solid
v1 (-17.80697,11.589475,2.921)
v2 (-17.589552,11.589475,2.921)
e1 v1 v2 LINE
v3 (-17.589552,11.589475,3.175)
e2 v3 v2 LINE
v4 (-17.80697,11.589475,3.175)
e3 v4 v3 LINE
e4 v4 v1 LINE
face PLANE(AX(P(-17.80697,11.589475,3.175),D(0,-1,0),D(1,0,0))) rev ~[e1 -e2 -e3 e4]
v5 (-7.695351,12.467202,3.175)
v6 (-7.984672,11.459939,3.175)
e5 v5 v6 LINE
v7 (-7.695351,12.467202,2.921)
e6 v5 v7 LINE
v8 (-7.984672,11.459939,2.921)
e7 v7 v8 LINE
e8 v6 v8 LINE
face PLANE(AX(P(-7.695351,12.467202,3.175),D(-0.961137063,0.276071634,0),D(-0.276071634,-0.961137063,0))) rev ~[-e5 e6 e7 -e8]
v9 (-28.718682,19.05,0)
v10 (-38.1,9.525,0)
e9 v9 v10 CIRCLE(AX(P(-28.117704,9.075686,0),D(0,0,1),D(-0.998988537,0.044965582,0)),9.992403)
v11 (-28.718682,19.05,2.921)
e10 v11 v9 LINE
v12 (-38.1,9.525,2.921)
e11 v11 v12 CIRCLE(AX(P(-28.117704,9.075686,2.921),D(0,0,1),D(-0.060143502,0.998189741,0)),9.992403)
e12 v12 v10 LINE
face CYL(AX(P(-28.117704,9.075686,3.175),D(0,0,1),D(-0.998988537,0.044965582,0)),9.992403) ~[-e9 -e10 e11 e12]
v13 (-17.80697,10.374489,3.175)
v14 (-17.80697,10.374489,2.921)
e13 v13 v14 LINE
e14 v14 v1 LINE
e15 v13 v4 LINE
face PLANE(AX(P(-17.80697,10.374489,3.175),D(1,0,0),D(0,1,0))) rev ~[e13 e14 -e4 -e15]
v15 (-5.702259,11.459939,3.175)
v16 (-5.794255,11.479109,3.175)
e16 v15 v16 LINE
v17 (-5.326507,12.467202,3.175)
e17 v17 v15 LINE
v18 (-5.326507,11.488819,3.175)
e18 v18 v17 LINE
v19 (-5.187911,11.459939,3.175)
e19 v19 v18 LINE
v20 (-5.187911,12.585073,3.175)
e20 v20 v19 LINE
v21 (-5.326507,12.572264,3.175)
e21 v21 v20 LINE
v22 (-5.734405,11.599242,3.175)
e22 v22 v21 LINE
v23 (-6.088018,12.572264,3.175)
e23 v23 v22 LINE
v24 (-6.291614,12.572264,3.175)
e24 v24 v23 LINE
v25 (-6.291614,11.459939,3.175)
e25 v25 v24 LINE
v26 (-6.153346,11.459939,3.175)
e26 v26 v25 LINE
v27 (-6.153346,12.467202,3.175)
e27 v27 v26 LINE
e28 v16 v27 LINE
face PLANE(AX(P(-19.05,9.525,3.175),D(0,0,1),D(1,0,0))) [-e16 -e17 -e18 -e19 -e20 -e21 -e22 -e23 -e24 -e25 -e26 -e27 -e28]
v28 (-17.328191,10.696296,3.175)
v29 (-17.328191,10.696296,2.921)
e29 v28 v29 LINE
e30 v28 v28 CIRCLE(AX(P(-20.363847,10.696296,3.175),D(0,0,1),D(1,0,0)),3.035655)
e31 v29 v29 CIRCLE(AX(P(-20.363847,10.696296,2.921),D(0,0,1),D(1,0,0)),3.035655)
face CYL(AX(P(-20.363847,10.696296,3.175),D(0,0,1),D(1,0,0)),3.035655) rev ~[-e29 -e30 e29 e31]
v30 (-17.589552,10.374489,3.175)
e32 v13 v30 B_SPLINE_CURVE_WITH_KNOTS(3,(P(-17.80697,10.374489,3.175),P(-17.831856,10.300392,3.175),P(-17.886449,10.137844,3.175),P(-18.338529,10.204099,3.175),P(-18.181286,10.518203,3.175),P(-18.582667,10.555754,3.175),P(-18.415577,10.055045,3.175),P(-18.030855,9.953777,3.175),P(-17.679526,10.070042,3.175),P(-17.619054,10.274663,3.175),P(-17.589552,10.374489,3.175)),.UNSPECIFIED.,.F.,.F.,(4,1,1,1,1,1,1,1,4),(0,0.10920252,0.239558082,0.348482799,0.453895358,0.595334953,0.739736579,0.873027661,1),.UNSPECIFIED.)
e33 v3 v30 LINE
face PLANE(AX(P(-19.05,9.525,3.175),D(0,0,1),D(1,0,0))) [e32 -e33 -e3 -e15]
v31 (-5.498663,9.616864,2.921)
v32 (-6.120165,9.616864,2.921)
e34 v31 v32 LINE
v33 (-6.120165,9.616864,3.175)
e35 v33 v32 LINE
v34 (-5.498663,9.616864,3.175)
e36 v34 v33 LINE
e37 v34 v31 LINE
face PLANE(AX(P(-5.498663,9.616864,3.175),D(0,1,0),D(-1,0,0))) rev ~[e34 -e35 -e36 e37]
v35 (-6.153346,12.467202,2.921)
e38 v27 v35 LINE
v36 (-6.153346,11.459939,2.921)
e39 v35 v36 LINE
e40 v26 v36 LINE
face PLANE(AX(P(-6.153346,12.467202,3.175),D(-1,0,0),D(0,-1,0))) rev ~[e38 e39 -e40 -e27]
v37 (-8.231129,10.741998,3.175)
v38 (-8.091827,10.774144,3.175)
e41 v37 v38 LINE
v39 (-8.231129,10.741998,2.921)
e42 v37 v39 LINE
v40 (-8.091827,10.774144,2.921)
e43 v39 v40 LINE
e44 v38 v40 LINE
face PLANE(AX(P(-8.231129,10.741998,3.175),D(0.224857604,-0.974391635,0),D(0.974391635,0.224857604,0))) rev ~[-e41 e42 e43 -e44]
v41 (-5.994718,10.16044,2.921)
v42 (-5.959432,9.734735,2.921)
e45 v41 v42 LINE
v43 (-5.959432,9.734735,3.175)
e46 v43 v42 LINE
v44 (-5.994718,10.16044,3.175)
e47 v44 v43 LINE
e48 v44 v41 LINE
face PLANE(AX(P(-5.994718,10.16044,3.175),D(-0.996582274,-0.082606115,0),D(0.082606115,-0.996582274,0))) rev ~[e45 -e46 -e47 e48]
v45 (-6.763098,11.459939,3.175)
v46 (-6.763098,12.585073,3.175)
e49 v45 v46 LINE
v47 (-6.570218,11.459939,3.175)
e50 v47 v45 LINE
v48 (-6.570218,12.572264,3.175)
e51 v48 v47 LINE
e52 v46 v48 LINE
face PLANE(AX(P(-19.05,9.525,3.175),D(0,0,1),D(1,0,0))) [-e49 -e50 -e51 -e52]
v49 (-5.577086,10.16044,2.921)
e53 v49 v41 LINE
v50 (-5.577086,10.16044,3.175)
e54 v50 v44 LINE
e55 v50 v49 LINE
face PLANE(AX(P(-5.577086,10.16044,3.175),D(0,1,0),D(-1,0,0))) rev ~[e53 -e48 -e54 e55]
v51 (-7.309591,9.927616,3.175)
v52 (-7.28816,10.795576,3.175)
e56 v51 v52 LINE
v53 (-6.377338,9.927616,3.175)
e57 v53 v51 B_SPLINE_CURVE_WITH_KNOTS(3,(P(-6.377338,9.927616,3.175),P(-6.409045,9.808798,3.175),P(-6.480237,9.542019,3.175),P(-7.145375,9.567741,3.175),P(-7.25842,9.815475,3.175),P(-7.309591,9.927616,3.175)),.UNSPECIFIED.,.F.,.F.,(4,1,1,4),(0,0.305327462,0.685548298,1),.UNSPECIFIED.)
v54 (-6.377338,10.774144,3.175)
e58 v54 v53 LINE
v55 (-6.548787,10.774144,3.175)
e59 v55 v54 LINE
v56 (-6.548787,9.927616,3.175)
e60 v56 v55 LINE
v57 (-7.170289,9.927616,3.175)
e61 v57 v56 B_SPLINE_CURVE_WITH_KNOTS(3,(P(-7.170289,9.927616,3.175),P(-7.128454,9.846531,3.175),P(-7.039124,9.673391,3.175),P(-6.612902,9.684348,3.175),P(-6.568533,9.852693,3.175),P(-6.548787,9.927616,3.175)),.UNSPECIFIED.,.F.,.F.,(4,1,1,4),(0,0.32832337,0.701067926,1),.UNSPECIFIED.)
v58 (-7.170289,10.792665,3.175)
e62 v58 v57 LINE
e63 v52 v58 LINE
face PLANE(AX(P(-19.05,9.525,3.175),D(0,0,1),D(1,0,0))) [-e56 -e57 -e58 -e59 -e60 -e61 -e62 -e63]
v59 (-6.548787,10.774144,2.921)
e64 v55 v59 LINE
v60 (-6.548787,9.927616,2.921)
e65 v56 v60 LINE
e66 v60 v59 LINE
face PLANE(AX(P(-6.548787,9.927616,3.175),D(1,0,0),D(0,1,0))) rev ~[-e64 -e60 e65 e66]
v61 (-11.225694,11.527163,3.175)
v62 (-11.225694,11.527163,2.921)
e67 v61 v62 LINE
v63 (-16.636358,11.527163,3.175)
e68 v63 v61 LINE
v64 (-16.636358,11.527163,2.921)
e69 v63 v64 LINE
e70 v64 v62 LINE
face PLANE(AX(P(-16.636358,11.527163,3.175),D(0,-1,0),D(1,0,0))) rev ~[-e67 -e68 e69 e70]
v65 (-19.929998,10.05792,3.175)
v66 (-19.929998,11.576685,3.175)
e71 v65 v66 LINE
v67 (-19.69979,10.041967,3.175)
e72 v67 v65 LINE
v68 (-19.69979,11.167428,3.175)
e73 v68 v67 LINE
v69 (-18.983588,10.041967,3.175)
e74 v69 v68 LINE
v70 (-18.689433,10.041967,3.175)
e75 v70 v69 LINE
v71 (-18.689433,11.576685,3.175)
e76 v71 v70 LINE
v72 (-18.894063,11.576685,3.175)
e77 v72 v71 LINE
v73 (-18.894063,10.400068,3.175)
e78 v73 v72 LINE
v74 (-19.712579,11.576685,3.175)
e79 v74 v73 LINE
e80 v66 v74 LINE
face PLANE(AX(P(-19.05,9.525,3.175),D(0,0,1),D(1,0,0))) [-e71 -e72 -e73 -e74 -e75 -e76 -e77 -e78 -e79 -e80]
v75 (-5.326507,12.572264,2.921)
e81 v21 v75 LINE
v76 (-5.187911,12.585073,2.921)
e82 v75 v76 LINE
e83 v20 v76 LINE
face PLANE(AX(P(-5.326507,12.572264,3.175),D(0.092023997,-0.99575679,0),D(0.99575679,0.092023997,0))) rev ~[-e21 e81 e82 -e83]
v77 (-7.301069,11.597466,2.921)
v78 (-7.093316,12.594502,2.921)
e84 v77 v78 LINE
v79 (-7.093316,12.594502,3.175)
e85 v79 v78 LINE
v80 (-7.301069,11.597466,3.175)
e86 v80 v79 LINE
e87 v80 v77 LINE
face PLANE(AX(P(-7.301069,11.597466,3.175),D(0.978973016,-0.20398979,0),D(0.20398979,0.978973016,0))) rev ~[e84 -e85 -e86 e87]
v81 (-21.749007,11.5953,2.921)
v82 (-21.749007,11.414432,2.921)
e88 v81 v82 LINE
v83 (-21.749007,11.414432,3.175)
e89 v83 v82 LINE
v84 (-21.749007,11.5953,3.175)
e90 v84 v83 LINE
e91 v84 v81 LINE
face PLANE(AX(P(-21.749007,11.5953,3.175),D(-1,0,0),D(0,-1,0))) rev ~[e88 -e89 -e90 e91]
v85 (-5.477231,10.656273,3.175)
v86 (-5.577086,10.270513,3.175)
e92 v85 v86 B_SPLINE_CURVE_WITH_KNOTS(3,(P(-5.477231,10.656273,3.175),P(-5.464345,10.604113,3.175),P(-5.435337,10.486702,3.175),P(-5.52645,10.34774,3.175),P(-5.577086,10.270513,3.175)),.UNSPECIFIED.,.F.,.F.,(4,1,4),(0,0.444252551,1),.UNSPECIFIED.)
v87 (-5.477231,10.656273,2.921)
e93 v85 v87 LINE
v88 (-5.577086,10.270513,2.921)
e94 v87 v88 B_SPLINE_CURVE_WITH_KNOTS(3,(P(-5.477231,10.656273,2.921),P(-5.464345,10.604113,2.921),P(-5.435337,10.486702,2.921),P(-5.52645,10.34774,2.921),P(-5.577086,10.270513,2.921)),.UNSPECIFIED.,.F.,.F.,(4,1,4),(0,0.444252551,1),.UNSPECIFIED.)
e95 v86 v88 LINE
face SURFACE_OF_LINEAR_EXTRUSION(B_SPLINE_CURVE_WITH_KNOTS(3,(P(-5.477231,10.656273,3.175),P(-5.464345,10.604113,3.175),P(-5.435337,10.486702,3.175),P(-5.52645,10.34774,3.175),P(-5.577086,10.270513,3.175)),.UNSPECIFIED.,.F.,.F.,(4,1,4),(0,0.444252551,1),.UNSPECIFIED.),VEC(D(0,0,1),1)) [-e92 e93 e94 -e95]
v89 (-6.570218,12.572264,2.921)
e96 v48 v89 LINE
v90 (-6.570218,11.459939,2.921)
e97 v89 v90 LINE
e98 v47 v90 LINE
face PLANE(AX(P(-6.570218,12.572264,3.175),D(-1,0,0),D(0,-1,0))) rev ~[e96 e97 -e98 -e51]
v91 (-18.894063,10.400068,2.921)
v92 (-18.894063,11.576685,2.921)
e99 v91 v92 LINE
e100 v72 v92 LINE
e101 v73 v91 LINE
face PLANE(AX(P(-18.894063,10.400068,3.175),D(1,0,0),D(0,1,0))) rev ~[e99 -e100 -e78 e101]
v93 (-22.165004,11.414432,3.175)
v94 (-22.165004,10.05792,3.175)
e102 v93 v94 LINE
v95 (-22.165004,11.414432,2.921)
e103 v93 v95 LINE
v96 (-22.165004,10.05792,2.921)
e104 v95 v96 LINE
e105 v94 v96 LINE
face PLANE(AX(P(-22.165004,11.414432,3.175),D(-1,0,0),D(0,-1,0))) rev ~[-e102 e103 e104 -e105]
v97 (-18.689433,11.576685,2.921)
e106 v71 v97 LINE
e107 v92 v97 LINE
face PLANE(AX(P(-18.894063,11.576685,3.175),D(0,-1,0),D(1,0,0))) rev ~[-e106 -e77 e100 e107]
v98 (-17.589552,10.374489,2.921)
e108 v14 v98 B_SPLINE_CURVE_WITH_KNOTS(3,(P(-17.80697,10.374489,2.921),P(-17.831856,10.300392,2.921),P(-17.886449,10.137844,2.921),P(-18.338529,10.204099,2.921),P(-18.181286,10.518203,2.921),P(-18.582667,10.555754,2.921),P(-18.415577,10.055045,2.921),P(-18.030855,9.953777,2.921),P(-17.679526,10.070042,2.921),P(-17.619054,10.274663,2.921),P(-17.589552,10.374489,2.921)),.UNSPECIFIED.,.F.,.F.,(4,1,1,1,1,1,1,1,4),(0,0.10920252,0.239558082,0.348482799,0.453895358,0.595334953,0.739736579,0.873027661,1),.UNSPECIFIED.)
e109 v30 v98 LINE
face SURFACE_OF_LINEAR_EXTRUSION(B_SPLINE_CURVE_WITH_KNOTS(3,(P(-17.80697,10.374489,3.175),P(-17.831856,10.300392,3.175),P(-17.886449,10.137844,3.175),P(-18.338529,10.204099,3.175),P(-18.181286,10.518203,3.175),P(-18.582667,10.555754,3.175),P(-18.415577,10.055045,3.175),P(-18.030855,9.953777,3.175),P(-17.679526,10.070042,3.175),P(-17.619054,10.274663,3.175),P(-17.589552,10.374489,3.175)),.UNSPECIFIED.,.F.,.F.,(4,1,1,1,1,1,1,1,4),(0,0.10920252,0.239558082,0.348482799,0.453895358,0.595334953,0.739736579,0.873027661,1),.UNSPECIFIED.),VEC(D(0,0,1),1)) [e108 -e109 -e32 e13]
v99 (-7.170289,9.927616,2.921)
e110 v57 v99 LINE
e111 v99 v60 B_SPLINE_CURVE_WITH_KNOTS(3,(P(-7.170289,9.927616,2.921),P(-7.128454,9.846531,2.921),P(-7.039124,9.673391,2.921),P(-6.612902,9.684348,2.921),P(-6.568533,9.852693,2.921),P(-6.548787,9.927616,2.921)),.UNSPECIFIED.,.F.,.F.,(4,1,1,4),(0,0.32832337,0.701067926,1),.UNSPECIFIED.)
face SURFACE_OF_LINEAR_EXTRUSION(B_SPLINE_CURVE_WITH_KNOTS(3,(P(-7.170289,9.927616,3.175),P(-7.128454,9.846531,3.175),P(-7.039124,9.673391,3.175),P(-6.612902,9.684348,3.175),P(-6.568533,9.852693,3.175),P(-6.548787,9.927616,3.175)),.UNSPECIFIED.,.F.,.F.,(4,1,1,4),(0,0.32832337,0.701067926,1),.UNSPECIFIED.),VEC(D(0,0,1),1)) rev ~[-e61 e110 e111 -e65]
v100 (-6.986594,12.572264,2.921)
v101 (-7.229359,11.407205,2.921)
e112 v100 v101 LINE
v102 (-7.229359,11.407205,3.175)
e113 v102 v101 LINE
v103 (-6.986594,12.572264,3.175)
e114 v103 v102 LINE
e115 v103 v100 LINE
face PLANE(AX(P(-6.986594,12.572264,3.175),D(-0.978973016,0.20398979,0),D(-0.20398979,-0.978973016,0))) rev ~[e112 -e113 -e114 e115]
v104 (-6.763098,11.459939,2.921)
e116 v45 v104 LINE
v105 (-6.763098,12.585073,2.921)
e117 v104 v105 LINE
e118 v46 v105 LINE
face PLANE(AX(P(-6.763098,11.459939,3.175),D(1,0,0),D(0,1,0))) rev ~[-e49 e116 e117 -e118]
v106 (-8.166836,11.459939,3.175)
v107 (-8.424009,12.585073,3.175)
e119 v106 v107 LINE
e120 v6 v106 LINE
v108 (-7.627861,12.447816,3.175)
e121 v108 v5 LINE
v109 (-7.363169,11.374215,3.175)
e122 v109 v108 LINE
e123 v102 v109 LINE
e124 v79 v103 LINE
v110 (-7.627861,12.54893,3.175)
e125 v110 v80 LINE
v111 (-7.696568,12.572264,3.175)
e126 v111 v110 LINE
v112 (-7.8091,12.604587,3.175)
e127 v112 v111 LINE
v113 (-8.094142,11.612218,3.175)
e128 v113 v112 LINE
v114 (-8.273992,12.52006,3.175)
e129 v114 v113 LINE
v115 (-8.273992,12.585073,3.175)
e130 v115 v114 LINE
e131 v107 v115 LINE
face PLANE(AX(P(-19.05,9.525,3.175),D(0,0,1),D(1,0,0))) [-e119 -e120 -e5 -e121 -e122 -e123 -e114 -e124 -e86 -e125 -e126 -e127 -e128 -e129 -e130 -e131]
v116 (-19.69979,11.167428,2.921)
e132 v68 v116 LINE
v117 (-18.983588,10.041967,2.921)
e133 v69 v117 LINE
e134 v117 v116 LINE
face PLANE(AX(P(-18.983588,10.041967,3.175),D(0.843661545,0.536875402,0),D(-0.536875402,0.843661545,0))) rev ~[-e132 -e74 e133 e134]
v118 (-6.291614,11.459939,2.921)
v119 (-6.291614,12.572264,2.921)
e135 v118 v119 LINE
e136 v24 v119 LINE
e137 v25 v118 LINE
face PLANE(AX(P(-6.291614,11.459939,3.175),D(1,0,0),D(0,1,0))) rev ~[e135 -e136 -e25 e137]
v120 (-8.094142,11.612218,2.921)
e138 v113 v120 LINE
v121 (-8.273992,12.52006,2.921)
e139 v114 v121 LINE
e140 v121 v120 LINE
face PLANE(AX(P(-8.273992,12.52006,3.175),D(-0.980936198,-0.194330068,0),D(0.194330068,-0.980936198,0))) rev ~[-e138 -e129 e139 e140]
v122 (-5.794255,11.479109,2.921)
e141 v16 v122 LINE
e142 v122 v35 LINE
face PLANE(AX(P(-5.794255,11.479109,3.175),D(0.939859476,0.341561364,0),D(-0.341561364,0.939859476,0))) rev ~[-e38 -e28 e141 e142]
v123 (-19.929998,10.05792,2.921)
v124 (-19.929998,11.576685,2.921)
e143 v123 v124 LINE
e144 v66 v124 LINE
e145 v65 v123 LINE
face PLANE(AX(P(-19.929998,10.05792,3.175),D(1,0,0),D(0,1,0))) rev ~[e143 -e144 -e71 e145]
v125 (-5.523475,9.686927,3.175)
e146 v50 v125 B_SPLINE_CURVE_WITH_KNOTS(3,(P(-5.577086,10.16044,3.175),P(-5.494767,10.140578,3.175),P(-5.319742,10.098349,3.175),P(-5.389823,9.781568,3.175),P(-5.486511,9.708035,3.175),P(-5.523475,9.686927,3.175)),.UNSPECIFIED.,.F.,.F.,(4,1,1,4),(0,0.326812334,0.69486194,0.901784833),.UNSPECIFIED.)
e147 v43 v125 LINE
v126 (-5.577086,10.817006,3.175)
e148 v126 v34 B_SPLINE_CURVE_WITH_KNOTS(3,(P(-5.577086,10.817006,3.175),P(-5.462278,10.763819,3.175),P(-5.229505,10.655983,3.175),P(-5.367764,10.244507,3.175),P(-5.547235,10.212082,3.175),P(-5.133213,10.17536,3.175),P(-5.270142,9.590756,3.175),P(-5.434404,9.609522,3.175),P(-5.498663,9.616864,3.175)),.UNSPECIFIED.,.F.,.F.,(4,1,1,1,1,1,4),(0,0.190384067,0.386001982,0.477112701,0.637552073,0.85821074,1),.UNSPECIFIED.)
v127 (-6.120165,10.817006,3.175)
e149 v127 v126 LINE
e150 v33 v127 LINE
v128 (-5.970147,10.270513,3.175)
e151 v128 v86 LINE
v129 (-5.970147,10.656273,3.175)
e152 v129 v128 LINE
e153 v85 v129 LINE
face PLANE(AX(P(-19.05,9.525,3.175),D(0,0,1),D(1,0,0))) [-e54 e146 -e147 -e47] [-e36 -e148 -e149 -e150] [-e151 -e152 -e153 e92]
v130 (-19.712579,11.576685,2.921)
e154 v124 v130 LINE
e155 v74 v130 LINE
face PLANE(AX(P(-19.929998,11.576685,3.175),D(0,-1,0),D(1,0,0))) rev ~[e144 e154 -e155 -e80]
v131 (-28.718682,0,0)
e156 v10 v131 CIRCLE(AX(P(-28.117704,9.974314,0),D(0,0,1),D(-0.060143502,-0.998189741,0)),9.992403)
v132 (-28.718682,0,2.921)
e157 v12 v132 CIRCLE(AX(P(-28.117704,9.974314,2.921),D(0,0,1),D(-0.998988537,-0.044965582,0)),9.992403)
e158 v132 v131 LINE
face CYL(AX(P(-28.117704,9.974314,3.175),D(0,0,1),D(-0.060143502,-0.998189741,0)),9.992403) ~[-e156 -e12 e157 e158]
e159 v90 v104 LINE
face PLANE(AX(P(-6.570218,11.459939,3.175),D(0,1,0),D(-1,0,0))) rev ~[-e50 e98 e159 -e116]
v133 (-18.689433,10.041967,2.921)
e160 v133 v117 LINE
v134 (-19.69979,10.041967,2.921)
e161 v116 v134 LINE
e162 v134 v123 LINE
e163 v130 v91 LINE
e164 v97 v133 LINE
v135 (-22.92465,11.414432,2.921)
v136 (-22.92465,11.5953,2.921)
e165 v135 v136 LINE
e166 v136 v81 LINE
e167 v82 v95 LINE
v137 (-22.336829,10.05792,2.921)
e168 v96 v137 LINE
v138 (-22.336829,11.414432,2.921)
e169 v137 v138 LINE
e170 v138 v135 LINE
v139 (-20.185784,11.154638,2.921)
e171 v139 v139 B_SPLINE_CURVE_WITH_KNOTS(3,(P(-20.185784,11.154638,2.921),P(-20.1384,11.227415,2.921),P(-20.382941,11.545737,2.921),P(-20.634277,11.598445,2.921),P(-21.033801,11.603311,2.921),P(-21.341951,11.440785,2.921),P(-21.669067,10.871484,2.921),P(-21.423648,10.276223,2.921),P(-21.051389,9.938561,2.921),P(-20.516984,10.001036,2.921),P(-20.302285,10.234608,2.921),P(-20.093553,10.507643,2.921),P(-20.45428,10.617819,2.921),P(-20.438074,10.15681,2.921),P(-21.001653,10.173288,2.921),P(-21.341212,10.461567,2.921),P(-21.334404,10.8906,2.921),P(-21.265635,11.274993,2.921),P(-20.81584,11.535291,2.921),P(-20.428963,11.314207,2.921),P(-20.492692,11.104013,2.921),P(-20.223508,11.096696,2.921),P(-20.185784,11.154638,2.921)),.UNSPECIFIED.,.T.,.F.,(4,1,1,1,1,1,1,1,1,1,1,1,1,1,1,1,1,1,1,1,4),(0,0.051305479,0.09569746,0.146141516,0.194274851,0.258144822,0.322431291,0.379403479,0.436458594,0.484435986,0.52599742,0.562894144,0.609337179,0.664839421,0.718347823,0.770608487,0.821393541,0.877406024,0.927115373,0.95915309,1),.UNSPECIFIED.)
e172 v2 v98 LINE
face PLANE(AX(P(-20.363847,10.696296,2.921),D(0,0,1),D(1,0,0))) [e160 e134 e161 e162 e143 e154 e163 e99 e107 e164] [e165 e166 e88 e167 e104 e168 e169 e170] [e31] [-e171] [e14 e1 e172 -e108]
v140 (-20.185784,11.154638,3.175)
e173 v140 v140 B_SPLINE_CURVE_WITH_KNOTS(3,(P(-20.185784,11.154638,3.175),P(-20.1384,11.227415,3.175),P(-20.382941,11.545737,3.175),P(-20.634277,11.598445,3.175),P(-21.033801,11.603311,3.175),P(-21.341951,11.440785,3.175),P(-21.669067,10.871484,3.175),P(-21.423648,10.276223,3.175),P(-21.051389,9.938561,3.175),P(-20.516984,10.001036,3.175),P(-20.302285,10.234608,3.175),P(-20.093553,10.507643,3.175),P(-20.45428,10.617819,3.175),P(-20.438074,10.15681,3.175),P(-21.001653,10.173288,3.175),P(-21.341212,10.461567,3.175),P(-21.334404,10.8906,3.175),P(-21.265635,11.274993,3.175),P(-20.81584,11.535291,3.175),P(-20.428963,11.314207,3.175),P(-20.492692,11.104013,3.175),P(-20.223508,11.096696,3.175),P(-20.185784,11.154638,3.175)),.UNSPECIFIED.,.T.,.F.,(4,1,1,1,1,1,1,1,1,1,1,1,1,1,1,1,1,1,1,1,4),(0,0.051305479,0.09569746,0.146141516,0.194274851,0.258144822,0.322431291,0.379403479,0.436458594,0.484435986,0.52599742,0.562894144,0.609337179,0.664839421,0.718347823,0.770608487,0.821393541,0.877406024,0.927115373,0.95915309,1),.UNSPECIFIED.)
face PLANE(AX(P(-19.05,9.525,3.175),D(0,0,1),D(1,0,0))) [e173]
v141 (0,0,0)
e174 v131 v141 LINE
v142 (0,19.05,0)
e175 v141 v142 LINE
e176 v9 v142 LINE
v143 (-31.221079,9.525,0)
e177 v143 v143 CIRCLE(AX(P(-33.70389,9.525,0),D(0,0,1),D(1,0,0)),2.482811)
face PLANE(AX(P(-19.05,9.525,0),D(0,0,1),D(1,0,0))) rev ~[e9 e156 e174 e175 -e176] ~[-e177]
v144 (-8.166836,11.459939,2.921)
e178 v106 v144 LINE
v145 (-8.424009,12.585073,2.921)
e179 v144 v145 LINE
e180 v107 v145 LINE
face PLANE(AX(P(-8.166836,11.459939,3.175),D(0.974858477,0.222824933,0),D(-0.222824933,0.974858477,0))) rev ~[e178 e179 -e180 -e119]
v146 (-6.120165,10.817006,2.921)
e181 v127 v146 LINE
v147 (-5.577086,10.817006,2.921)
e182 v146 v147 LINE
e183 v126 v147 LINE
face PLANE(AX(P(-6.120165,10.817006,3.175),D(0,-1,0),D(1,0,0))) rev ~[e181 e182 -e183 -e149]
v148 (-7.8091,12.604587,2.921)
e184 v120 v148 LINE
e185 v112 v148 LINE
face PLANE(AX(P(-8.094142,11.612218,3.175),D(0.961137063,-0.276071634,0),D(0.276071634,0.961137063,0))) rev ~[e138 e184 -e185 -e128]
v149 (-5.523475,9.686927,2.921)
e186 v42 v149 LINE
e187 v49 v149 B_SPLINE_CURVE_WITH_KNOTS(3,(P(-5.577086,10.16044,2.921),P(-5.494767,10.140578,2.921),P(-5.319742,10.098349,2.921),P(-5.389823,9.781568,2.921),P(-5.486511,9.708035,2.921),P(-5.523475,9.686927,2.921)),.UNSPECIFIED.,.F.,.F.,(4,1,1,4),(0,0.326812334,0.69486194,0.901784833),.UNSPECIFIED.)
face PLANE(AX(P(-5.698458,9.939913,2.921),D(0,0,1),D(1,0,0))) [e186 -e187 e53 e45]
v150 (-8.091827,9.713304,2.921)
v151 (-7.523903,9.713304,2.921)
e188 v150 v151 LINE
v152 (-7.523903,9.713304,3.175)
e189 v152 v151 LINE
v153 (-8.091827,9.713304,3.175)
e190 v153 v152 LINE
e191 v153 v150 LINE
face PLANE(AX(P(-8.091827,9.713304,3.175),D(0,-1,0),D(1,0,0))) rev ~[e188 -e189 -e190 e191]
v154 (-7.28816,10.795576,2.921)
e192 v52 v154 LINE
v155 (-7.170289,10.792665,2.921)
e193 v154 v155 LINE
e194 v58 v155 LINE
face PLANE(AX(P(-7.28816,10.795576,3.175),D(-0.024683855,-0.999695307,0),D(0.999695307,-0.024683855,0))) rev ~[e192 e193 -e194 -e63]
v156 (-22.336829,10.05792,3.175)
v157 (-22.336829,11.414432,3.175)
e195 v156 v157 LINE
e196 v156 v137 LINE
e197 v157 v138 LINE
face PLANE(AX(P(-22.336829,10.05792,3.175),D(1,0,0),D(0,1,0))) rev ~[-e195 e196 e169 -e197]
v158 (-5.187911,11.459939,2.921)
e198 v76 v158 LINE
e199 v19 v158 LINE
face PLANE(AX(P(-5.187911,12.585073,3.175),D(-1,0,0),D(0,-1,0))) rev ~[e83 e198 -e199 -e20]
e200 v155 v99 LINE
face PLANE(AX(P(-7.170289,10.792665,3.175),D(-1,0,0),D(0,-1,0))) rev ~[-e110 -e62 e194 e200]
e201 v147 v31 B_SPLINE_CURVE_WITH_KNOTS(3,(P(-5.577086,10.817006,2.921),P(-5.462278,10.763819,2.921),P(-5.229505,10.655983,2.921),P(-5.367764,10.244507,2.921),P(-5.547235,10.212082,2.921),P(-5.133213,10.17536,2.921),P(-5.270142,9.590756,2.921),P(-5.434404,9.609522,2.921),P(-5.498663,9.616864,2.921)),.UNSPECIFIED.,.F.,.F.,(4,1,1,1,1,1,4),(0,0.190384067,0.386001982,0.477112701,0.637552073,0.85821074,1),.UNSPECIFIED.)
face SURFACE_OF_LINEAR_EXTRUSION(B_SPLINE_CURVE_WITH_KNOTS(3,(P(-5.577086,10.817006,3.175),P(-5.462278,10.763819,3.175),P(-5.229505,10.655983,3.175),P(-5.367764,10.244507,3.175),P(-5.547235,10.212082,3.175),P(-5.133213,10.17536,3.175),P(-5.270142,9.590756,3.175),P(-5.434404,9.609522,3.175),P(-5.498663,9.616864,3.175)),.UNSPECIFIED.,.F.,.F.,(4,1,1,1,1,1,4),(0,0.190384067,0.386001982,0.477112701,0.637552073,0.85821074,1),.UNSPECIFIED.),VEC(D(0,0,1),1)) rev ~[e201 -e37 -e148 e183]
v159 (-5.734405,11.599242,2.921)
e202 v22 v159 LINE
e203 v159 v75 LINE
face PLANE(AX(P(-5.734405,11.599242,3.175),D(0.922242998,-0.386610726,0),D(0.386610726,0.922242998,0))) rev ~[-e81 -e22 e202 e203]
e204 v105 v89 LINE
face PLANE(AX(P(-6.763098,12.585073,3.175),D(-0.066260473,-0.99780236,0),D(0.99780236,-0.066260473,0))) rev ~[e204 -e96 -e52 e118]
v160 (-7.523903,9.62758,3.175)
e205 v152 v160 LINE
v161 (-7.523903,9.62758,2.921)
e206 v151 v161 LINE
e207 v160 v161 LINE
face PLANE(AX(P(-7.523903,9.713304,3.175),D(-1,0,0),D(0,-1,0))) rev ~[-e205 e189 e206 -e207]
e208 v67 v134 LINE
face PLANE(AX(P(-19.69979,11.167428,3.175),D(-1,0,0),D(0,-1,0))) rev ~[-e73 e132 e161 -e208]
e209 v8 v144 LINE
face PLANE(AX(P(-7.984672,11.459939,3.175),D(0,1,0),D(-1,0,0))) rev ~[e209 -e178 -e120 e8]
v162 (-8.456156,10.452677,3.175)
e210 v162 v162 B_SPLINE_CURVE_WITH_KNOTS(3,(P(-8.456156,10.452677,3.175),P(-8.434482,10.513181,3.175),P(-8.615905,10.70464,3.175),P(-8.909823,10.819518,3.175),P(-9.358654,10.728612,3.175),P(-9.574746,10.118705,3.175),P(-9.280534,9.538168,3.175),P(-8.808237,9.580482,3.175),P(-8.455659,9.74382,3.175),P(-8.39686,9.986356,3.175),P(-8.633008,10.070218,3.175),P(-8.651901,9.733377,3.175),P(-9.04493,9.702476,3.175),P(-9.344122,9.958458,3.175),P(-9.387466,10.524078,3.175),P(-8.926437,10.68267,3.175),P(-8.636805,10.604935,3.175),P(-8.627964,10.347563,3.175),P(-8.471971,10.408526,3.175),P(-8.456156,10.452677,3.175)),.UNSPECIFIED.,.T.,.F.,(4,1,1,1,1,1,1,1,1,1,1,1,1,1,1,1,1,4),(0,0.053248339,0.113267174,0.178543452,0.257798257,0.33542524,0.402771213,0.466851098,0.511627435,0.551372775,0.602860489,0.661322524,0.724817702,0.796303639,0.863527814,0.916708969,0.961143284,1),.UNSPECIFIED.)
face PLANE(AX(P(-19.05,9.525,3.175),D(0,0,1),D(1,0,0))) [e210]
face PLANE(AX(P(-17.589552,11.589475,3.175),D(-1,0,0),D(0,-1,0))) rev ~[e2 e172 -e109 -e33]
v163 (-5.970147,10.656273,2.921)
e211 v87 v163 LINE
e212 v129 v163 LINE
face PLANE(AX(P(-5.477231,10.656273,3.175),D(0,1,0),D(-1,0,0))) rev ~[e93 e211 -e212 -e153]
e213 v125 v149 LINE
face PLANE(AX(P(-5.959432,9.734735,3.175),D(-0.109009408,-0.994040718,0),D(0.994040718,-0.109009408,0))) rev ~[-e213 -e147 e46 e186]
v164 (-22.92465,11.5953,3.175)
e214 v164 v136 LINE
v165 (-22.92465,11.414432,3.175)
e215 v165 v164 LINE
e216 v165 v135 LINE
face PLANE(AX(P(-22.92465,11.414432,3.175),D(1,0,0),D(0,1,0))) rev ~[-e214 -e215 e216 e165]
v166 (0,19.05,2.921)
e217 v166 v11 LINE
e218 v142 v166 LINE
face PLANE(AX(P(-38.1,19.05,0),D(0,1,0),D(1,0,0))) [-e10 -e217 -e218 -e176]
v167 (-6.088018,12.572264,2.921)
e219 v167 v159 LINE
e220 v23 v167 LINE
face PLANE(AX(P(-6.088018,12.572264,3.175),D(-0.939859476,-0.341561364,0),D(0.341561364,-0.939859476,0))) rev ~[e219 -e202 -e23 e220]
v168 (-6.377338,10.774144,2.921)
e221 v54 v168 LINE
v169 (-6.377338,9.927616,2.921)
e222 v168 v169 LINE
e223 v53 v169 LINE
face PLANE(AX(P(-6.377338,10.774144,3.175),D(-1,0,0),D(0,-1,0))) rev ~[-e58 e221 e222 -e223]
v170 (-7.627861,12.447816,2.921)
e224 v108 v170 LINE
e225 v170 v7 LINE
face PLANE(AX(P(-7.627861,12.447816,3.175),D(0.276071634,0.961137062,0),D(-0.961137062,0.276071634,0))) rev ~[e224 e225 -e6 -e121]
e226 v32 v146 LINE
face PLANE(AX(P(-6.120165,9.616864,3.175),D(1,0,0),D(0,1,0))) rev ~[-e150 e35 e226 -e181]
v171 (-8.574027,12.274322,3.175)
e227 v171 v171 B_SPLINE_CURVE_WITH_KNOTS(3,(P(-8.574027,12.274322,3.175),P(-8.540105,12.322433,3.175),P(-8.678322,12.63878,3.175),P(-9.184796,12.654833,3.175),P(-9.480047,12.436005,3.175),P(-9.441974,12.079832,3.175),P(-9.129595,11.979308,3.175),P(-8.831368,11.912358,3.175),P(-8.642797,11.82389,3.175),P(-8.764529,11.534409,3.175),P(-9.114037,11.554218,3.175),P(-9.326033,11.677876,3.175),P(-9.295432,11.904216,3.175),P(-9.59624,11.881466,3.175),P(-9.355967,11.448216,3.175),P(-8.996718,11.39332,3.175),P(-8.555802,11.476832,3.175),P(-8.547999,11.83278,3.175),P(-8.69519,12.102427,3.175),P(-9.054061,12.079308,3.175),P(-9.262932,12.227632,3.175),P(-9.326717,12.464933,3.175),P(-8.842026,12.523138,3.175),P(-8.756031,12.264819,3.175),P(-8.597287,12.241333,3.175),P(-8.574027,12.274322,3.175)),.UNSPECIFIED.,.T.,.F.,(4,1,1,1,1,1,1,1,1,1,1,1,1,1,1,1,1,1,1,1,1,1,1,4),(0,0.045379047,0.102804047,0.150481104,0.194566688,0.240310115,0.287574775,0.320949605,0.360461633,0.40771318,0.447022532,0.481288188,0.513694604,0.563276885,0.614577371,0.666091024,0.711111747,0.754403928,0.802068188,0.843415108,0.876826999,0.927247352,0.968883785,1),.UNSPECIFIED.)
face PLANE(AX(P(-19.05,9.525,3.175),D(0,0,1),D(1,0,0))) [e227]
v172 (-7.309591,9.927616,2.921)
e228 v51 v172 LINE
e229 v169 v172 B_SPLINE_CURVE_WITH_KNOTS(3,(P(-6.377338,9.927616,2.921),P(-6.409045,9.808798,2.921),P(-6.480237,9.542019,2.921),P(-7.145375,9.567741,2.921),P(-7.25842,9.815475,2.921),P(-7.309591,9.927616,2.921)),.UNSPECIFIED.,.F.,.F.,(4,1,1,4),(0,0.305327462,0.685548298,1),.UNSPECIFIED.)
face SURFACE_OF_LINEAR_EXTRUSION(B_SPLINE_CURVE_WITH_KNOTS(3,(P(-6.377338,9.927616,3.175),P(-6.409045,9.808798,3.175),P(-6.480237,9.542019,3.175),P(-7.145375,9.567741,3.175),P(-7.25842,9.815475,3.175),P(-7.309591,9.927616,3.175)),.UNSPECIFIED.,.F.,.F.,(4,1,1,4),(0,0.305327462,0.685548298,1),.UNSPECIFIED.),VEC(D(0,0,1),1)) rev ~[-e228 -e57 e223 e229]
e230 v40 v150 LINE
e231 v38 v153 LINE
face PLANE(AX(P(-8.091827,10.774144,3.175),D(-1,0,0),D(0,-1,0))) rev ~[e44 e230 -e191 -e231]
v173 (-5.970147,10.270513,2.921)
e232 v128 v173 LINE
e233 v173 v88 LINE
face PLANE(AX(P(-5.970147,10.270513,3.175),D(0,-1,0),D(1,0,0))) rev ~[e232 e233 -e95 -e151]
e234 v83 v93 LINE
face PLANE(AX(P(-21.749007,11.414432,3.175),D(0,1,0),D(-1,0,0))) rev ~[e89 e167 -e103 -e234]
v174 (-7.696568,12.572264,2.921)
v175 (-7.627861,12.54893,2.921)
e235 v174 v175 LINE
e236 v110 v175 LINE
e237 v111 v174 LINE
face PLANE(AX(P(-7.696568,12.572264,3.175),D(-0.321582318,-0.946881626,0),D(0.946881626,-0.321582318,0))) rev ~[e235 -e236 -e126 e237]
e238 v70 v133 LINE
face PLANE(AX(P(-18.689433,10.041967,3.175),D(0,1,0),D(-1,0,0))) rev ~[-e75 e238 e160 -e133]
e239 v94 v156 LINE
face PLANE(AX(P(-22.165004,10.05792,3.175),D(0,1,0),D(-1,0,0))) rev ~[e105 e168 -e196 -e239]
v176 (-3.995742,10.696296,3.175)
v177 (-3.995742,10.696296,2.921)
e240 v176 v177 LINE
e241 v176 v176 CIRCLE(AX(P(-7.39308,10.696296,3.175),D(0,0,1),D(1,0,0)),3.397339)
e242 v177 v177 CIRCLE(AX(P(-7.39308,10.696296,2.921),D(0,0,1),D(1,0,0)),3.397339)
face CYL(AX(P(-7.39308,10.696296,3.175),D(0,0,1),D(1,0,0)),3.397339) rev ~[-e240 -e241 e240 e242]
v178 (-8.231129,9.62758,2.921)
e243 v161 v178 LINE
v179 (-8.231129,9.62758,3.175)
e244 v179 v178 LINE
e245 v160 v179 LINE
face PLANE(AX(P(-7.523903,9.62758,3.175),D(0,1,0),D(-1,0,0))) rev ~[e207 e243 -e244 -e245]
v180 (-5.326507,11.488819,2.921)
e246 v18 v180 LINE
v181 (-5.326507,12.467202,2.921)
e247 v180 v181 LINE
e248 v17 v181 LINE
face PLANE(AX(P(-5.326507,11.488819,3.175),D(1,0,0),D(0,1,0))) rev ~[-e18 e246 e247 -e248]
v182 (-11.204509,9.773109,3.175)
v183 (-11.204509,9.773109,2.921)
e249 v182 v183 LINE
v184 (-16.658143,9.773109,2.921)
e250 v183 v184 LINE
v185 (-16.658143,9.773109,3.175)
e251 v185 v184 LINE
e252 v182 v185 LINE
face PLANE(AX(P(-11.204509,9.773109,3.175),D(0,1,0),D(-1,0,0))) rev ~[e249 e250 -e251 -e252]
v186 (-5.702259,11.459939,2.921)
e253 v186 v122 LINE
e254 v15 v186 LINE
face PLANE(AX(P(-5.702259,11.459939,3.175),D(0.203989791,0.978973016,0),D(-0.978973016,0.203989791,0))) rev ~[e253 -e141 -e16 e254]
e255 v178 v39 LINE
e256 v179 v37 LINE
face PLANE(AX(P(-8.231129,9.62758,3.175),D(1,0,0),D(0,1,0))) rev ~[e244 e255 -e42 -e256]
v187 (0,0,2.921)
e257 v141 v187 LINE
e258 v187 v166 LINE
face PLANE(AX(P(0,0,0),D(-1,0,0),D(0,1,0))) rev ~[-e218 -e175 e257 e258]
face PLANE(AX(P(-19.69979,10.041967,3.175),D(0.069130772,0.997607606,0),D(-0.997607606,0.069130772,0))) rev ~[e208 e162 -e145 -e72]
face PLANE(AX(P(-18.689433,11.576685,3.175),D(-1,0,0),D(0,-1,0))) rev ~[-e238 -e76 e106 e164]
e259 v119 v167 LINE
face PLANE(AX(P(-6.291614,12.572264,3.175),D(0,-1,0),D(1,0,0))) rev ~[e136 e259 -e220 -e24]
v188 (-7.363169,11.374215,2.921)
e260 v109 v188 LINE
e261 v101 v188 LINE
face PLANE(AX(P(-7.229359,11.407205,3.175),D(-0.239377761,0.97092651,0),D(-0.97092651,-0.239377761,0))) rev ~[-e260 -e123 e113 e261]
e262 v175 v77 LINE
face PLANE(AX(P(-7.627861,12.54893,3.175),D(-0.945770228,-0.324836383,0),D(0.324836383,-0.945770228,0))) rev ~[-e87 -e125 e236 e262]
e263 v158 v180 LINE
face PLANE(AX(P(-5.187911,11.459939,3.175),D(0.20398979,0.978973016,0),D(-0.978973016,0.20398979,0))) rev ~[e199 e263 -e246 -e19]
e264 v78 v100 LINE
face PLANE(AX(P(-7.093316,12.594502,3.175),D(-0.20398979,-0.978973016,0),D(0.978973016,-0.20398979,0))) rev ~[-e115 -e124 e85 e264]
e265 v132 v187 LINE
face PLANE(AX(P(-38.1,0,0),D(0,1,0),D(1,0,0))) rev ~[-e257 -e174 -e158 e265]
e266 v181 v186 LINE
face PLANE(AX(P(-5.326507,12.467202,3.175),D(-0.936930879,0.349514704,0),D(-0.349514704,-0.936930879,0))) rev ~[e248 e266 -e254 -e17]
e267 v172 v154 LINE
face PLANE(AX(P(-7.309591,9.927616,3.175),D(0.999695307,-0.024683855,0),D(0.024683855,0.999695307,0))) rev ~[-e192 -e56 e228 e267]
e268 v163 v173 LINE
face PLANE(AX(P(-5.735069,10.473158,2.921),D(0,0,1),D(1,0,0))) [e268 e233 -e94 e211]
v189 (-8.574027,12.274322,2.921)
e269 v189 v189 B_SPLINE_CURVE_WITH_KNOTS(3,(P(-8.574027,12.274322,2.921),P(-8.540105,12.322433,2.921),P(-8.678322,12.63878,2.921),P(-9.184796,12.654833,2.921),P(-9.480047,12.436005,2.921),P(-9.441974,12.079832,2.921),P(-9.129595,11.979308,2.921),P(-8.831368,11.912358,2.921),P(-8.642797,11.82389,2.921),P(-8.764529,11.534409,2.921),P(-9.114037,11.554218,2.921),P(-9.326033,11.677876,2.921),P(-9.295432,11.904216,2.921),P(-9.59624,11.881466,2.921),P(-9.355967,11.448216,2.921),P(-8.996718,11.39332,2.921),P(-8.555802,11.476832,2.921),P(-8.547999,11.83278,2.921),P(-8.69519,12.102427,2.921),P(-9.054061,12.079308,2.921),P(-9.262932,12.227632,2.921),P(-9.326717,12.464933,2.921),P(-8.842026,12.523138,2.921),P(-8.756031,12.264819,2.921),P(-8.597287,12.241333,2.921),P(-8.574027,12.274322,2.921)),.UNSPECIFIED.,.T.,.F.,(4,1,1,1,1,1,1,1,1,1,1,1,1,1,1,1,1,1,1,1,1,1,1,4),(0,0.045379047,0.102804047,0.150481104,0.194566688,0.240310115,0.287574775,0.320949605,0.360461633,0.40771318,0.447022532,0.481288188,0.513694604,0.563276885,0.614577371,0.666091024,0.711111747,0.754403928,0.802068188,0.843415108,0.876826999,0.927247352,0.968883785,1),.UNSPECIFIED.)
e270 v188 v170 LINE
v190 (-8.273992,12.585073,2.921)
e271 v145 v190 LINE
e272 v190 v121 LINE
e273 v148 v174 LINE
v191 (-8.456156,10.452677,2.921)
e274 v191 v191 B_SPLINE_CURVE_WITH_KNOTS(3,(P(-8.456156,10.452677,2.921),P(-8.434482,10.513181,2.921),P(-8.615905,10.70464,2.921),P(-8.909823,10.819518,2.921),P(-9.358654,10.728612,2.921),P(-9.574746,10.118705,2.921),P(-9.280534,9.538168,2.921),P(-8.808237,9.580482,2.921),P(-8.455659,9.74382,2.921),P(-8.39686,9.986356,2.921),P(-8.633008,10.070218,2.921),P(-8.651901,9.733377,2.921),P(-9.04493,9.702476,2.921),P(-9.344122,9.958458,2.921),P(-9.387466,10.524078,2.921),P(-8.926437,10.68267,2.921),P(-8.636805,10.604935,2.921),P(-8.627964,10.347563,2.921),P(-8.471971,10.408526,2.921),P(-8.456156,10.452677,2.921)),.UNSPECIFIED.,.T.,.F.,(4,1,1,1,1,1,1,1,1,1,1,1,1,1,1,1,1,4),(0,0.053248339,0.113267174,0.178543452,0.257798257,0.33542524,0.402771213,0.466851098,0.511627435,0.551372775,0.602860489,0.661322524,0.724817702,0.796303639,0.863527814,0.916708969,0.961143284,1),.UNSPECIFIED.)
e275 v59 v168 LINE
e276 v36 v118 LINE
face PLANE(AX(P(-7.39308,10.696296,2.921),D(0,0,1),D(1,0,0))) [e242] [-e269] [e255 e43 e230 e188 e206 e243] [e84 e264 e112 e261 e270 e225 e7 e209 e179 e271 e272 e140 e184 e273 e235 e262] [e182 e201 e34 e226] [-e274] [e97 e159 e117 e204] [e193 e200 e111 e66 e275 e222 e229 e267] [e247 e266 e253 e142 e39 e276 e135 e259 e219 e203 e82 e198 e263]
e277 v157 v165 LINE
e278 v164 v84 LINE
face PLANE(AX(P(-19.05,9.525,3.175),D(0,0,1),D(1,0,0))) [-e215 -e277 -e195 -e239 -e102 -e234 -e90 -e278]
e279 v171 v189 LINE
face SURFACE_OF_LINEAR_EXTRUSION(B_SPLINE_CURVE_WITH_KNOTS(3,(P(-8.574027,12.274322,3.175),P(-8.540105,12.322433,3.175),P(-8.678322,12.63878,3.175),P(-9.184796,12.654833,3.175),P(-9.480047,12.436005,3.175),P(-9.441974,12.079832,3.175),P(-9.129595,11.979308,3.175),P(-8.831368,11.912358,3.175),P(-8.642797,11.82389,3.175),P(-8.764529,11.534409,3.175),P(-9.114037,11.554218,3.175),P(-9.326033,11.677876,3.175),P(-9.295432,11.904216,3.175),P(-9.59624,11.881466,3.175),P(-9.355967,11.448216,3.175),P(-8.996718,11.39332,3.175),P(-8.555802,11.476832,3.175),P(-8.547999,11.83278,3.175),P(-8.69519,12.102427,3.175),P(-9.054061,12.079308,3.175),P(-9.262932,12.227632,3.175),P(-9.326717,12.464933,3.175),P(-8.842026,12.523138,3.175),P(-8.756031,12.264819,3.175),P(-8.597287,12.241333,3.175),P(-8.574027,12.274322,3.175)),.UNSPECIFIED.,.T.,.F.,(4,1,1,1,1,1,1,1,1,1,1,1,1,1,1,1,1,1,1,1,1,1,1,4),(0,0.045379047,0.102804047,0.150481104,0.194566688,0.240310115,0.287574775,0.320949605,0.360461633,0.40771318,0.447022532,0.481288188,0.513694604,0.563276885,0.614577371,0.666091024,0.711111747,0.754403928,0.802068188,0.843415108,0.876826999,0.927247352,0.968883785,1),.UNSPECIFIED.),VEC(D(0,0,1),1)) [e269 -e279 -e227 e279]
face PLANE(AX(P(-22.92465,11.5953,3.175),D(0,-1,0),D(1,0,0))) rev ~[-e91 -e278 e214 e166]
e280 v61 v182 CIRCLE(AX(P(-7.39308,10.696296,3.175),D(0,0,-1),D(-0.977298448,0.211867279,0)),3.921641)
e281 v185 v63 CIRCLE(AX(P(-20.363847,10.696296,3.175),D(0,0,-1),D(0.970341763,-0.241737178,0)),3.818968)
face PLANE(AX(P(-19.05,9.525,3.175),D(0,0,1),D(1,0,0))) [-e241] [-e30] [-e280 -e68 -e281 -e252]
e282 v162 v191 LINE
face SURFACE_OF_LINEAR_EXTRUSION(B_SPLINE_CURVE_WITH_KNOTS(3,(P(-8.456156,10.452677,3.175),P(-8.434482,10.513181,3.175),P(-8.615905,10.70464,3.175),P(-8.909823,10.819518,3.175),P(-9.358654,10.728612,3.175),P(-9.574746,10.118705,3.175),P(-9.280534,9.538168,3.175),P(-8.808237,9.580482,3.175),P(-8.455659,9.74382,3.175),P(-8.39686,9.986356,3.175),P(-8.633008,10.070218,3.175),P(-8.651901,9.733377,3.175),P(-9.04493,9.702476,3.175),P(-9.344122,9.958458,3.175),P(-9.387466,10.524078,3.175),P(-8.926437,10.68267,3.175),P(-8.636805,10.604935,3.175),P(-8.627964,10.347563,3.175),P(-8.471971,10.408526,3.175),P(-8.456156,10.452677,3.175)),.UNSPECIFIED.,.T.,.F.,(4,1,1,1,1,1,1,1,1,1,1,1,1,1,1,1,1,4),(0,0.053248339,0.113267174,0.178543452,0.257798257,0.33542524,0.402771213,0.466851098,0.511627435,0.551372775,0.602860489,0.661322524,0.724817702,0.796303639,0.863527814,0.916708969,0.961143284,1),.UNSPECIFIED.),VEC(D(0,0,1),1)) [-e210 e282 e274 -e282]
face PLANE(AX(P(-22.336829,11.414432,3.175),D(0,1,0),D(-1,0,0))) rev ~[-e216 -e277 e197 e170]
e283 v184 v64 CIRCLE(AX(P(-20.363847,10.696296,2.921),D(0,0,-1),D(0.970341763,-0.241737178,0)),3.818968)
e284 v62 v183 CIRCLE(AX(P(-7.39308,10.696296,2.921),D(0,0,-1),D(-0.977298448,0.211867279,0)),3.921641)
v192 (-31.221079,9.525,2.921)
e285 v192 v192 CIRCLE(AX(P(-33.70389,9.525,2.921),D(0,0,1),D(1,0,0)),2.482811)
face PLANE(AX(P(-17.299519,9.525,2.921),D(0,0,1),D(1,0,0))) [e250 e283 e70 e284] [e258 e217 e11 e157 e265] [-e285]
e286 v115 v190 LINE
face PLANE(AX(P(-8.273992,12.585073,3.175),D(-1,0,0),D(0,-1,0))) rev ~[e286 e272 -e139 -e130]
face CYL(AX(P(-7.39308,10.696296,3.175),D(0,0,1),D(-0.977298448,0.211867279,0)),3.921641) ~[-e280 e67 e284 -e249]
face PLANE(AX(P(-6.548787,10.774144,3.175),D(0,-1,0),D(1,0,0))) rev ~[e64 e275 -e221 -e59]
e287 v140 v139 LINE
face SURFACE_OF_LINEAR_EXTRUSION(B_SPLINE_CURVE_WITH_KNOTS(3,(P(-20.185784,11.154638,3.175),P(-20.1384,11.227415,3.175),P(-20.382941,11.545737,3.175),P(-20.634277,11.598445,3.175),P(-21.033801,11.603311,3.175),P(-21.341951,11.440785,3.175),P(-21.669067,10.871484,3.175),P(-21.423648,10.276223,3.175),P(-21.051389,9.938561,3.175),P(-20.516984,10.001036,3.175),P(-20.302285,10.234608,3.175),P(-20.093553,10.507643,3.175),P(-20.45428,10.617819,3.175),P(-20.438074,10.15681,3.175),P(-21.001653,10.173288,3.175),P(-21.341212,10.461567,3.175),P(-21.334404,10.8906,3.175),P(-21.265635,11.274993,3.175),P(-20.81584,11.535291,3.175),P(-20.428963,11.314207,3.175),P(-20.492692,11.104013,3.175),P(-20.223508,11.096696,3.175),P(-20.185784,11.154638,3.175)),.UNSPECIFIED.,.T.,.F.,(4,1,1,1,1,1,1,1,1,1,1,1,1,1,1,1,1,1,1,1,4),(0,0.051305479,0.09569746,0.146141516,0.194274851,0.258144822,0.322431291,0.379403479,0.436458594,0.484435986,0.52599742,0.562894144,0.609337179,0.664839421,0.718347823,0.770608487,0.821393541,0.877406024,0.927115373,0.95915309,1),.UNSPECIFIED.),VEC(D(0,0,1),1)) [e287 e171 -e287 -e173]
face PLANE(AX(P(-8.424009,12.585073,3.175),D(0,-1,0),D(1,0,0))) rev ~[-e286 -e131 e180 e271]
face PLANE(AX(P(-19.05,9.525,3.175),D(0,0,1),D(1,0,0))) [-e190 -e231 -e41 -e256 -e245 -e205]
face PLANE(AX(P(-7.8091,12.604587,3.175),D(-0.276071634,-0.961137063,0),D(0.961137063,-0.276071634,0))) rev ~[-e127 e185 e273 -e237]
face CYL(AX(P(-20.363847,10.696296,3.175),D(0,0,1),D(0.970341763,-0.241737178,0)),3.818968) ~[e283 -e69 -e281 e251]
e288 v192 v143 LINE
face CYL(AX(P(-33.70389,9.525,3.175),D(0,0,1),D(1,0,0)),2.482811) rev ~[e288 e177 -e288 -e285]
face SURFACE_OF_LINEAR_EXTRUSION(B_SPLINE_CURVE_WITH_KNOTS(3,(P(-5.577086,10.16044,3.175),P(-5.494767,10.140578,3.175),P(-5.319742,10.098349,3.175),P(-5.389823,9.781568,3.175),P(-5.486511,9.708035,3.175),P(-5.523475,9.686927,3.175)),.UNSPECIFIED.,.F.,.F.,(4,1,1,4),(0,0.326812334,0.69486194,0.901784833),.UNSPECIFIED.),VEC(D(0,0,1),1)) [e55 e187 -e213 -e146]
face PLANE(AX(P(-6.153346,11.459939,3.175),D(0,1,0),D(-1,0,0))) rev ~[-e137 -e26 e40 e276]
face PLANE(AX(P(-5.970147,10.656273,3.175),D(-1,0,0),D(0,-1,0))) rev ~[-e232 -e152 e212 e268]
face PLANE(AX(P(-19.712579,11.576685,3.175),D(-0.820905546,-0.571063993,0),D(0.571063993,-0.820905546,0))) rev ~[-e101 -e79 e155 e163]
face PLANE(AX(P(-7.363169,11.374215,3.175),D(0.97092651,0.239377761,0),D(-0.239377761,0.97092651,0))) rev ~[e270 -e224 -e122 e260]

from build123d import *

# Parameters (mm, degrees)
F0_W     = 38.1
F0_H     = 19.05
F1_DEPTH = 3.175
F2_R     = 2.4828109925
F3_DEPTH = 3.176
F4_R     = 2.4828109925
F4_R_2   = 3.3973385268
F4_R_3   = 3.0356553695
F5_DEPTH = 0.254


with BuildPart() as f1:
    # F0 (on Top) → F1 (new body)
    with BuildSketch(Plane.XY):
        with Locations((-19.05, 9.525)):
            Rectangle(F0_W, F0_H)
    extrude(amount=F1_DEPTH)

    # F2 (on face) → F3 (cut, through all)
    with BuildSketch(Plane.XY.offset(3.175)):
        with BuildLine():
            ThreePointArc((-38.1, 9.525), (-35.2368913149, 16.0874822179), (-28.718682006, 19.05))
            Line((-28.718682006, 19.05), (-38.1, 19.05))
            Line((-38.1, 19.05), (-38.1, 9.525))
        make_face()
        with BuildLine():
            ThreePointArc((-28.718682006, 0), (-35.2368913149, 2.9625177821), (-38.1, 9.525))
            Line((-38.1, 9.525), (-38.1, 0))
            Line((-38.1, 0), (-28.718682006, 0))
        make_face()
        with Locations((-33.7038896978, 9.525)):
            Circle(F2_R)
    extrude(amount=-F3_DEPTH, mode=Mode.SUBTRACT)

    # F4 (on face) → F5 (cut)
    with BuildSketch(Plane.XY.offset(3.175)):
        with BuildLine():
            ThreePointArc((-28.718682006, 19.05), (-35.2368913149, 16.0874822179), (-38.1, 9.525))
            ThreePointArc((-38.1, 9.525), (-35.2368913149, 2.9625177821), (-28.718682006, 0))
            Line((-28.718682006, 0), (0, 0))
            Line((0, 0), (0, 19.05))
            Line((0, 19.05), (-28.718682006, 19.05))
        make_face()
        with Locations((-33.7038896978, 9.525)):
            Circle(F4_R, mode=Mode.SUBTRACT)
        with BuildLine():
            Line((-11.204509369, 9.7731091082), (-16.2556674331, 9.7731091082))
            Line((-16.2556674331, 9.7731091082), (-16.6581426853, 9.7731091082))
            ThreePointArc((-16.6581426853, 9.7731091082), (-24.1825202508, 10.7437230347), (-16.6363575836, 11.5271629766))
            Line((-16.6363575836, 11.5271629766), (-16.3941457868, 11.5271629766))
            Line((-16.3941457868, 11.5271629766), (-11.2256935624, 11.5271629766))
            ThreePointArc((-11.2256935624, 11.5271629766), (-3.4717256344, 10.7436549328), (-11.204509369, 9.7731091082))
        make_face(mode=Mode.SUBTRACT)
        with Locations((-7.3930802755, 10.6962956488)):
            Circle(F4_R_2)
        with BuildLine():
            add(Edge.make_bspline(
                [(-8.4561556578, 10.4526774958), (-8.4344821955, 10.5131812711), (-8.6159052615, 10.7046403164), (-8.9098232628, 10.8195179836), (-9.3586544368, 10.7286119848), (-9.574745931, 10.1187053668), (-9.2805338199, 9.538167958), (-8.8082365512, 9.5804816092), (-8.4556586549, 9.7438202932), (-8.396860102, 9.9863555926), (-8.6330082393, 10.0702183652), (-8.6519010809, 9.7333768373), (-9.0449295596, 9.7024764863), (-9.3441221135, 9.9584577723), (-9.3874655572, 10.524078357), (-8.9264365843, 10.6826697258), (-8.6368050913, 10.6049347389), (-8.6279642917, 10.3475627852), (-8.4719713543, 10.4085262966), (-8.4561556578, 10.4526774958)],
                knots=[0, 0, 0, 0, 0.0532483387, 0.113267174, 0.1785434515, 0.2577982567, 0.3354252403, 0.4027712128, 0.4668510982, 0.5116274353, 0.551372775, 0.6028604887, 0.6613225245, 0.7248177023, 0.7963036394, 0.8635278137, 0.9167089689, 0.9611432841, 1, 1, 1, 1], degree=3))
        make_face(mode=Mode.SUBTRACT)
        Polygon((-8.2311294973, 9.6275797114), (-8.2311294973, 10.7419975102), (-8.0918269232, 10.7741439715), (-8.0918269232, 9.7133042291), (-7.5239026919, 9.7133042291), (-7.5239026919, 9.6275797114), align=None, mode=Mode.SUBTRACT)
        with BuildLine():
            Line((-6.3773384318, 10.7741439715), (-6.3773384318, 10.6962956488))
            Line((-6.3773384318, 10.6962956488), (-6.3773384318, 9.9276155233))
            add(Edge.make_bspline(
                [(-6.3773384318, 9.9276155233), (-6.4090453416, 9.8087981466), (-6.480236508, 9.5420188336), (-7.1453746708, 9.5677405448), (-7.258420068, 9.8154754172), (-7.3095913976, 9.9276155233)],
                knots=[0, 0, 0, 0, 0.3053274615, 0.6855482984, 1, 1, 1, 1], degree=3))
            Line((-7.3095913976, 9.9276155233), (-7.2881602682, 10.7955755666))
            Line((-7.2881602682, 10.7955755666), (-7.1702892892, 10.7926651697))
            Line((-7.1702892892, 10.7926651697), (-7.1702892892, 9.9276155233))
            add(Edge.make_bspline(
                [(-7.1702892892, 9.9276155233), (-7.1284542088, 9.8465309767), (-7.0391238846, 9.6733913827), (-6.6129016247, 9.6843481722), (-6.5685332878, 9.8526930406), (-6.5487870015, 9.9276155233)],
                knots=[0, 0, 0, 0, 0.3283233699, 0.7010679257, 1, 1, 1, 1], degree=3))
            Line((-6.5487870015, 9.9276155233), (-6.5487870015, 10.7741439715))
            Line((-6.5487870015, 10.7741439715), (-6.3773384318, 10.7741439715))
        make_face(mode=Mode.SUBTRACT)
        with BuildLine():
            Line((-6.1201648787, 9.6168639138), (-6.1201648787, 10.6962956488))
            Line((-6.1201648787, 10.6962956488), (-6.1201648787, 10.8170062304))
            Line((-6.1201648787, 10.8170062304), (-5.577086471, 10.8170062304))
            add(Edge.make_bspline(
                [(-5.577086471, 10.8170062304), (-5.4622781191, 10.7638193061), (-5.2295052196, 10.6559832962), (-5.3677642589, 10.2445065322), (-5.5472345904, 10.2120818848), (-5.1332134299, 10.1753596302), (-5.270141809, 9.5907558618), (-5.4344035608, 9.6095224454), (-5.498662591, 9.6168639138)],
                knots=[0, 0, 0, 0, 0.1903840672, 0.3860019817, 0.4771127011, 0.6375520727, 0.8582107397, 1, 1, 1, 1], degree=3))
            Line((-5.498662591, 9.6168639138), (-6.1201648787, 9.6168639138))
        make_face(mode=Mode.SUBTRACT)
        with BuildLine():
            add(Edge.make_bspline(
                [(-8.5740266368, 12.2743221), (-8.5401050741, 12.3224331664), (-8.6783215627, 12.6387800293), (-9.184796294, 12.6548329665), (-9.4800471983, 12.4360053833), (-9.4419740945, 12.0798316165), (-9.1295950241, 11.9793082685), (-8.831367579, 11.9123580888), (-8.6427968335, 11.8238895712), (-8.7645291474, 11.5344085895), (-9.1140370755, 11.5542180365), (-9.3260330715, 11.6778761827), (-9.2954318773, 11.9042158216), (-9.5962395192, 11.8814661597), (-9.3559672194, 11.4482164997), (-8.9967184633, 11.3933195663), (-8.5558015163, 11.4768320471), (-8.5479985096, 11.8327800081), (-8.6951902579, 12.1024272986), (-9.0540613983, 12.0793081599), (-9.2629319892, 12.2276324709), (-9.3267172394, 12.4649328799), (-8.8420264537, 12.5231376903), (-8.7560312169, 12.2648192132), (-8.5972865041, 12.2413325519), (-8.5740266368, 12.2743221)],
                knots=[0, 0, 0, 0, 0.0453790473, 0.1028040475, 0.1504811039, 0.1945666876, 0.2403101145, 0.2875747753, 0.3209496051, 0.3604616335, 0.4077131796, 0.4470225316, 0.4812881885, 0.5136946038, 0.5632768855, 0.6145773714, 0.6660910242, 0.7111117469, 0.7544039284, 0.8020681877, 0.8434151076, 0.8768269994, 0.927247352, 0.9688837855, 1, 1, 1, 1], degree=3))
        make_face(mode=Mode.SUBTRACT)
        Polygon((-7.8090997019, 12.6045872655), (-7.6965680346, 12.5722642988), (-7.6278613442, 12.5489299599), (-7.3010693838, 11.5974660136), (-7.0933157741, 12.5945020797), (-6.9865938276, 12.5722642988), (-7.2293586095, 11.4072051531), (-7.363169454, 11.3742146641), (-7.6278613442, 12.4478163728), (-7.6953512616, 12.4672017992), (-7.9846717417, 11.4599391818), (-8.1668356434, 11.4599391818), (-8.4240091965, 12.5850727782), (-8.2739917561, 12.5850727782), (-8.2739917561, 12.5200599432), (-8.0941422122, 11.612218302), align=None, mode=Mode.SUBTRACT)
        Polygon((-6.5702181309, 12.5722642988), (-6.5702181309, 11.4599391818), (-6.7630982958, 11.4599391818), (-6.7630982958, 12.5850727782), align=None, mode=Mode.SUBTRACT)
        Polygon((-6.1533457451, 11.4599391818), (-6.2916139141, 11.4599391818), (-6.2916139141, 12.5722642988), (-6.0880184174, 12.5722642988), (-5.7344050147, 11.5992417559), (-5.3265071474, 12.5722642988), (-5.1879114471, 12.5850727782), (-5.1879114471, 11.4599391818), (-5.3265071474, 11.4888185353), (-5.3265071474, 12.4672017992), (-5.7022585534, 11.4599391818), (-5.7942554325, 11.4791086827), (-6.1533457451, 12.4672017992), align=None, mode=Mode.SUBTRACT)
        with Locations((-20.3638467938, 10.6962956488)):
            Circle(F4_R_3)
        Polygon((-22.3368285224, 10.0579196587), (-22.3368285224, 11.4144319668), (-22.9246504605, 11.4144319668), (-22.9246504605, 11.5953003988), (-21.7490065843, 11.5953003988), (-21.7490065843, 11.4144319668), (-22.165004164, 11.4144319668), (-22.165004164, 10.0579196587), align=None, mode=Mode.SUBTRACT)
        with BuildLine():
            add(Edge.make_bspline(
                [(-20.1857835054, 11.154637672), (-20.1383999259, 11.2274152197), (-20.3829405313, 11.5457368967), (-20.6342772805, 11.598445001), (-21.0338008973, 11.6033106802), (-21.3419507458, 11.4407849932), (-21.6690667935, 10.8714835234), (-21.4236479789, 10.2762233569), (-21.0513889722, 9.9385606622), (-20.5169842312, 10.0010364298), (-20.3022849329, 10.2346080768), (-20.0935529686, 10.5076427388), (-20.4542795834, 10.6178192925), (-20.4380739541, 10.1568095491), (-21.0016529566, 10.1732881394), (-21.3412121983, 10.4615670014), (-21.3344036941, 10.8906002083), (-21.2656345796, 11.2749928339), (-20.8158403075, 11.5352908662), (-20.428962716, 11.3142068841), (-20.4926924052, 11.1040132427), (-20.2235079909, 11.0966957528), (-20.1857835054, 11.154637672)],
                knots=[0, 0, 0, 0, 0.0513054787, 0.0956974598, 0.1461415157, 0.1942748513, 0.2581448225, 0.3224312905, 0.3794034791, 0.4364585944, 0.4844359856, 0.5259974197, 0.5628941445, 0.6093371792, 0.6648394213, 0.7183478226, 0.7706084866, 0.8213935407, 0.8774060244, 0.9271153733, 0.9591530905, 1, 1, 1, 1], degree=3))
        make_face(mode=Mode.SUBTRACT)
        Polygon((-19.6997895837, 10.0419670343), (-19.929997623, 10.0579196587), (-19.929997623, 11.5766851231), (-19.7125785053, 11.5766851231), (-18.8940633088, 10.4000680149), (-18.8940633088, 11.5766851231), (-18.6894331127, 11.5766851231), (-18.6894331127, 10.0419670343), (-18.9835876226, 10.0419670343), (-19.6997895837, 11.1674275249), align=None, mode=Mode.SUBTRACT)
        with BuildLine():
            Line((-17.589552328, 11.5894749761), (-17.589552328, 11.487159878))
            Line((-17.589552328, 11.487159878), (-17.589552328, 10.3744892403))
            add(Edge.make_bspline(
                [(-17.806969583, 10.3744892403), (-17.8318558411, 10.3003918473), (-17.8864489425, 10.1378440474), (-18.3385288849, 10.2040992572), (-18.1812855735, 10.5182028777), (-18.5826669281, 10.5557536384), (-18.4155770482, 10.0550453731), (-18.0308547555, 9.9537773156), (-17.6795258923, 10.070041505), (-17.619054133, 10.2746626102), (-17.589552328, 10.3744892403)],
                knots=[0, 0, 0, 0, 0.1092025201, 0.2395580825, 0.3484827985, 0.4538953578, 0.5953349525, 0.7397365792, 0.8730276614, 1, 1, 1, 1], degree=3))
            Line((-17.806969583, 10.3744892403), (-17.806969583, 11.5894749761))
            Line((-17.806969583, 11.5894749761), (-17.589552328, 11.5894749761))
        make_face(mode=Mode.SUBTRACT)
        with BuildLine():
            Line((-5.9947180562, 10.1604396477), (-5.9594316408, 9.7347348928))
            Line((-5.9594316408, 9.7347348928), (-5.5234750036, 9.686926615))
            add(Edge.make_bspline(
                [(-5.577086471, 10.1604396477), (-5.4947674906, 10.1405781416), (-5.3197424976, 10.098348999), (-5.3898233796, 9.7815677736), (-5.4865108779, 9.7080351973), (-5.5234750036, 9.686926615)],
                knots=[0, 0, 0, 0, 0.3268123342, 0.6948619404, 0.9017848331, 0.9017848331, 0.9017848331, 0.9017848331], degree=3))
            Line((-5.577086471, 10.1604396477), (-5.9947180562, 10.1604396477))
        make_face()
        with BuildLine():
            Line((-5.4772314616, 10.6562729925), (-5.9701469727, 10.6562729925))
            Line((-5.9701469727, 10.6562729925), (-5.9701469727, 10.2705126628))
            Line((-5.9701469727, 10.2705126628), (-5.577086471, 10.2705126628))
            add(Edge.make_bspline(
                [(-5.4772314616, 10.6562729925), (-5.4643446002, 10.6041130472), (-5.4353366378, 10.486702477), (-5.5264502908, 10.3477404531), (-5.577086471, 10.2705126628)],
                knots=[0, 0, 0, 0, 0.4442525507, 1, 1, 1, 1], degree=3))
        make_face()
    extrude(amount=-F5_DEPTH, mode=Mode.SUBTRACT)


solid = f1.part
